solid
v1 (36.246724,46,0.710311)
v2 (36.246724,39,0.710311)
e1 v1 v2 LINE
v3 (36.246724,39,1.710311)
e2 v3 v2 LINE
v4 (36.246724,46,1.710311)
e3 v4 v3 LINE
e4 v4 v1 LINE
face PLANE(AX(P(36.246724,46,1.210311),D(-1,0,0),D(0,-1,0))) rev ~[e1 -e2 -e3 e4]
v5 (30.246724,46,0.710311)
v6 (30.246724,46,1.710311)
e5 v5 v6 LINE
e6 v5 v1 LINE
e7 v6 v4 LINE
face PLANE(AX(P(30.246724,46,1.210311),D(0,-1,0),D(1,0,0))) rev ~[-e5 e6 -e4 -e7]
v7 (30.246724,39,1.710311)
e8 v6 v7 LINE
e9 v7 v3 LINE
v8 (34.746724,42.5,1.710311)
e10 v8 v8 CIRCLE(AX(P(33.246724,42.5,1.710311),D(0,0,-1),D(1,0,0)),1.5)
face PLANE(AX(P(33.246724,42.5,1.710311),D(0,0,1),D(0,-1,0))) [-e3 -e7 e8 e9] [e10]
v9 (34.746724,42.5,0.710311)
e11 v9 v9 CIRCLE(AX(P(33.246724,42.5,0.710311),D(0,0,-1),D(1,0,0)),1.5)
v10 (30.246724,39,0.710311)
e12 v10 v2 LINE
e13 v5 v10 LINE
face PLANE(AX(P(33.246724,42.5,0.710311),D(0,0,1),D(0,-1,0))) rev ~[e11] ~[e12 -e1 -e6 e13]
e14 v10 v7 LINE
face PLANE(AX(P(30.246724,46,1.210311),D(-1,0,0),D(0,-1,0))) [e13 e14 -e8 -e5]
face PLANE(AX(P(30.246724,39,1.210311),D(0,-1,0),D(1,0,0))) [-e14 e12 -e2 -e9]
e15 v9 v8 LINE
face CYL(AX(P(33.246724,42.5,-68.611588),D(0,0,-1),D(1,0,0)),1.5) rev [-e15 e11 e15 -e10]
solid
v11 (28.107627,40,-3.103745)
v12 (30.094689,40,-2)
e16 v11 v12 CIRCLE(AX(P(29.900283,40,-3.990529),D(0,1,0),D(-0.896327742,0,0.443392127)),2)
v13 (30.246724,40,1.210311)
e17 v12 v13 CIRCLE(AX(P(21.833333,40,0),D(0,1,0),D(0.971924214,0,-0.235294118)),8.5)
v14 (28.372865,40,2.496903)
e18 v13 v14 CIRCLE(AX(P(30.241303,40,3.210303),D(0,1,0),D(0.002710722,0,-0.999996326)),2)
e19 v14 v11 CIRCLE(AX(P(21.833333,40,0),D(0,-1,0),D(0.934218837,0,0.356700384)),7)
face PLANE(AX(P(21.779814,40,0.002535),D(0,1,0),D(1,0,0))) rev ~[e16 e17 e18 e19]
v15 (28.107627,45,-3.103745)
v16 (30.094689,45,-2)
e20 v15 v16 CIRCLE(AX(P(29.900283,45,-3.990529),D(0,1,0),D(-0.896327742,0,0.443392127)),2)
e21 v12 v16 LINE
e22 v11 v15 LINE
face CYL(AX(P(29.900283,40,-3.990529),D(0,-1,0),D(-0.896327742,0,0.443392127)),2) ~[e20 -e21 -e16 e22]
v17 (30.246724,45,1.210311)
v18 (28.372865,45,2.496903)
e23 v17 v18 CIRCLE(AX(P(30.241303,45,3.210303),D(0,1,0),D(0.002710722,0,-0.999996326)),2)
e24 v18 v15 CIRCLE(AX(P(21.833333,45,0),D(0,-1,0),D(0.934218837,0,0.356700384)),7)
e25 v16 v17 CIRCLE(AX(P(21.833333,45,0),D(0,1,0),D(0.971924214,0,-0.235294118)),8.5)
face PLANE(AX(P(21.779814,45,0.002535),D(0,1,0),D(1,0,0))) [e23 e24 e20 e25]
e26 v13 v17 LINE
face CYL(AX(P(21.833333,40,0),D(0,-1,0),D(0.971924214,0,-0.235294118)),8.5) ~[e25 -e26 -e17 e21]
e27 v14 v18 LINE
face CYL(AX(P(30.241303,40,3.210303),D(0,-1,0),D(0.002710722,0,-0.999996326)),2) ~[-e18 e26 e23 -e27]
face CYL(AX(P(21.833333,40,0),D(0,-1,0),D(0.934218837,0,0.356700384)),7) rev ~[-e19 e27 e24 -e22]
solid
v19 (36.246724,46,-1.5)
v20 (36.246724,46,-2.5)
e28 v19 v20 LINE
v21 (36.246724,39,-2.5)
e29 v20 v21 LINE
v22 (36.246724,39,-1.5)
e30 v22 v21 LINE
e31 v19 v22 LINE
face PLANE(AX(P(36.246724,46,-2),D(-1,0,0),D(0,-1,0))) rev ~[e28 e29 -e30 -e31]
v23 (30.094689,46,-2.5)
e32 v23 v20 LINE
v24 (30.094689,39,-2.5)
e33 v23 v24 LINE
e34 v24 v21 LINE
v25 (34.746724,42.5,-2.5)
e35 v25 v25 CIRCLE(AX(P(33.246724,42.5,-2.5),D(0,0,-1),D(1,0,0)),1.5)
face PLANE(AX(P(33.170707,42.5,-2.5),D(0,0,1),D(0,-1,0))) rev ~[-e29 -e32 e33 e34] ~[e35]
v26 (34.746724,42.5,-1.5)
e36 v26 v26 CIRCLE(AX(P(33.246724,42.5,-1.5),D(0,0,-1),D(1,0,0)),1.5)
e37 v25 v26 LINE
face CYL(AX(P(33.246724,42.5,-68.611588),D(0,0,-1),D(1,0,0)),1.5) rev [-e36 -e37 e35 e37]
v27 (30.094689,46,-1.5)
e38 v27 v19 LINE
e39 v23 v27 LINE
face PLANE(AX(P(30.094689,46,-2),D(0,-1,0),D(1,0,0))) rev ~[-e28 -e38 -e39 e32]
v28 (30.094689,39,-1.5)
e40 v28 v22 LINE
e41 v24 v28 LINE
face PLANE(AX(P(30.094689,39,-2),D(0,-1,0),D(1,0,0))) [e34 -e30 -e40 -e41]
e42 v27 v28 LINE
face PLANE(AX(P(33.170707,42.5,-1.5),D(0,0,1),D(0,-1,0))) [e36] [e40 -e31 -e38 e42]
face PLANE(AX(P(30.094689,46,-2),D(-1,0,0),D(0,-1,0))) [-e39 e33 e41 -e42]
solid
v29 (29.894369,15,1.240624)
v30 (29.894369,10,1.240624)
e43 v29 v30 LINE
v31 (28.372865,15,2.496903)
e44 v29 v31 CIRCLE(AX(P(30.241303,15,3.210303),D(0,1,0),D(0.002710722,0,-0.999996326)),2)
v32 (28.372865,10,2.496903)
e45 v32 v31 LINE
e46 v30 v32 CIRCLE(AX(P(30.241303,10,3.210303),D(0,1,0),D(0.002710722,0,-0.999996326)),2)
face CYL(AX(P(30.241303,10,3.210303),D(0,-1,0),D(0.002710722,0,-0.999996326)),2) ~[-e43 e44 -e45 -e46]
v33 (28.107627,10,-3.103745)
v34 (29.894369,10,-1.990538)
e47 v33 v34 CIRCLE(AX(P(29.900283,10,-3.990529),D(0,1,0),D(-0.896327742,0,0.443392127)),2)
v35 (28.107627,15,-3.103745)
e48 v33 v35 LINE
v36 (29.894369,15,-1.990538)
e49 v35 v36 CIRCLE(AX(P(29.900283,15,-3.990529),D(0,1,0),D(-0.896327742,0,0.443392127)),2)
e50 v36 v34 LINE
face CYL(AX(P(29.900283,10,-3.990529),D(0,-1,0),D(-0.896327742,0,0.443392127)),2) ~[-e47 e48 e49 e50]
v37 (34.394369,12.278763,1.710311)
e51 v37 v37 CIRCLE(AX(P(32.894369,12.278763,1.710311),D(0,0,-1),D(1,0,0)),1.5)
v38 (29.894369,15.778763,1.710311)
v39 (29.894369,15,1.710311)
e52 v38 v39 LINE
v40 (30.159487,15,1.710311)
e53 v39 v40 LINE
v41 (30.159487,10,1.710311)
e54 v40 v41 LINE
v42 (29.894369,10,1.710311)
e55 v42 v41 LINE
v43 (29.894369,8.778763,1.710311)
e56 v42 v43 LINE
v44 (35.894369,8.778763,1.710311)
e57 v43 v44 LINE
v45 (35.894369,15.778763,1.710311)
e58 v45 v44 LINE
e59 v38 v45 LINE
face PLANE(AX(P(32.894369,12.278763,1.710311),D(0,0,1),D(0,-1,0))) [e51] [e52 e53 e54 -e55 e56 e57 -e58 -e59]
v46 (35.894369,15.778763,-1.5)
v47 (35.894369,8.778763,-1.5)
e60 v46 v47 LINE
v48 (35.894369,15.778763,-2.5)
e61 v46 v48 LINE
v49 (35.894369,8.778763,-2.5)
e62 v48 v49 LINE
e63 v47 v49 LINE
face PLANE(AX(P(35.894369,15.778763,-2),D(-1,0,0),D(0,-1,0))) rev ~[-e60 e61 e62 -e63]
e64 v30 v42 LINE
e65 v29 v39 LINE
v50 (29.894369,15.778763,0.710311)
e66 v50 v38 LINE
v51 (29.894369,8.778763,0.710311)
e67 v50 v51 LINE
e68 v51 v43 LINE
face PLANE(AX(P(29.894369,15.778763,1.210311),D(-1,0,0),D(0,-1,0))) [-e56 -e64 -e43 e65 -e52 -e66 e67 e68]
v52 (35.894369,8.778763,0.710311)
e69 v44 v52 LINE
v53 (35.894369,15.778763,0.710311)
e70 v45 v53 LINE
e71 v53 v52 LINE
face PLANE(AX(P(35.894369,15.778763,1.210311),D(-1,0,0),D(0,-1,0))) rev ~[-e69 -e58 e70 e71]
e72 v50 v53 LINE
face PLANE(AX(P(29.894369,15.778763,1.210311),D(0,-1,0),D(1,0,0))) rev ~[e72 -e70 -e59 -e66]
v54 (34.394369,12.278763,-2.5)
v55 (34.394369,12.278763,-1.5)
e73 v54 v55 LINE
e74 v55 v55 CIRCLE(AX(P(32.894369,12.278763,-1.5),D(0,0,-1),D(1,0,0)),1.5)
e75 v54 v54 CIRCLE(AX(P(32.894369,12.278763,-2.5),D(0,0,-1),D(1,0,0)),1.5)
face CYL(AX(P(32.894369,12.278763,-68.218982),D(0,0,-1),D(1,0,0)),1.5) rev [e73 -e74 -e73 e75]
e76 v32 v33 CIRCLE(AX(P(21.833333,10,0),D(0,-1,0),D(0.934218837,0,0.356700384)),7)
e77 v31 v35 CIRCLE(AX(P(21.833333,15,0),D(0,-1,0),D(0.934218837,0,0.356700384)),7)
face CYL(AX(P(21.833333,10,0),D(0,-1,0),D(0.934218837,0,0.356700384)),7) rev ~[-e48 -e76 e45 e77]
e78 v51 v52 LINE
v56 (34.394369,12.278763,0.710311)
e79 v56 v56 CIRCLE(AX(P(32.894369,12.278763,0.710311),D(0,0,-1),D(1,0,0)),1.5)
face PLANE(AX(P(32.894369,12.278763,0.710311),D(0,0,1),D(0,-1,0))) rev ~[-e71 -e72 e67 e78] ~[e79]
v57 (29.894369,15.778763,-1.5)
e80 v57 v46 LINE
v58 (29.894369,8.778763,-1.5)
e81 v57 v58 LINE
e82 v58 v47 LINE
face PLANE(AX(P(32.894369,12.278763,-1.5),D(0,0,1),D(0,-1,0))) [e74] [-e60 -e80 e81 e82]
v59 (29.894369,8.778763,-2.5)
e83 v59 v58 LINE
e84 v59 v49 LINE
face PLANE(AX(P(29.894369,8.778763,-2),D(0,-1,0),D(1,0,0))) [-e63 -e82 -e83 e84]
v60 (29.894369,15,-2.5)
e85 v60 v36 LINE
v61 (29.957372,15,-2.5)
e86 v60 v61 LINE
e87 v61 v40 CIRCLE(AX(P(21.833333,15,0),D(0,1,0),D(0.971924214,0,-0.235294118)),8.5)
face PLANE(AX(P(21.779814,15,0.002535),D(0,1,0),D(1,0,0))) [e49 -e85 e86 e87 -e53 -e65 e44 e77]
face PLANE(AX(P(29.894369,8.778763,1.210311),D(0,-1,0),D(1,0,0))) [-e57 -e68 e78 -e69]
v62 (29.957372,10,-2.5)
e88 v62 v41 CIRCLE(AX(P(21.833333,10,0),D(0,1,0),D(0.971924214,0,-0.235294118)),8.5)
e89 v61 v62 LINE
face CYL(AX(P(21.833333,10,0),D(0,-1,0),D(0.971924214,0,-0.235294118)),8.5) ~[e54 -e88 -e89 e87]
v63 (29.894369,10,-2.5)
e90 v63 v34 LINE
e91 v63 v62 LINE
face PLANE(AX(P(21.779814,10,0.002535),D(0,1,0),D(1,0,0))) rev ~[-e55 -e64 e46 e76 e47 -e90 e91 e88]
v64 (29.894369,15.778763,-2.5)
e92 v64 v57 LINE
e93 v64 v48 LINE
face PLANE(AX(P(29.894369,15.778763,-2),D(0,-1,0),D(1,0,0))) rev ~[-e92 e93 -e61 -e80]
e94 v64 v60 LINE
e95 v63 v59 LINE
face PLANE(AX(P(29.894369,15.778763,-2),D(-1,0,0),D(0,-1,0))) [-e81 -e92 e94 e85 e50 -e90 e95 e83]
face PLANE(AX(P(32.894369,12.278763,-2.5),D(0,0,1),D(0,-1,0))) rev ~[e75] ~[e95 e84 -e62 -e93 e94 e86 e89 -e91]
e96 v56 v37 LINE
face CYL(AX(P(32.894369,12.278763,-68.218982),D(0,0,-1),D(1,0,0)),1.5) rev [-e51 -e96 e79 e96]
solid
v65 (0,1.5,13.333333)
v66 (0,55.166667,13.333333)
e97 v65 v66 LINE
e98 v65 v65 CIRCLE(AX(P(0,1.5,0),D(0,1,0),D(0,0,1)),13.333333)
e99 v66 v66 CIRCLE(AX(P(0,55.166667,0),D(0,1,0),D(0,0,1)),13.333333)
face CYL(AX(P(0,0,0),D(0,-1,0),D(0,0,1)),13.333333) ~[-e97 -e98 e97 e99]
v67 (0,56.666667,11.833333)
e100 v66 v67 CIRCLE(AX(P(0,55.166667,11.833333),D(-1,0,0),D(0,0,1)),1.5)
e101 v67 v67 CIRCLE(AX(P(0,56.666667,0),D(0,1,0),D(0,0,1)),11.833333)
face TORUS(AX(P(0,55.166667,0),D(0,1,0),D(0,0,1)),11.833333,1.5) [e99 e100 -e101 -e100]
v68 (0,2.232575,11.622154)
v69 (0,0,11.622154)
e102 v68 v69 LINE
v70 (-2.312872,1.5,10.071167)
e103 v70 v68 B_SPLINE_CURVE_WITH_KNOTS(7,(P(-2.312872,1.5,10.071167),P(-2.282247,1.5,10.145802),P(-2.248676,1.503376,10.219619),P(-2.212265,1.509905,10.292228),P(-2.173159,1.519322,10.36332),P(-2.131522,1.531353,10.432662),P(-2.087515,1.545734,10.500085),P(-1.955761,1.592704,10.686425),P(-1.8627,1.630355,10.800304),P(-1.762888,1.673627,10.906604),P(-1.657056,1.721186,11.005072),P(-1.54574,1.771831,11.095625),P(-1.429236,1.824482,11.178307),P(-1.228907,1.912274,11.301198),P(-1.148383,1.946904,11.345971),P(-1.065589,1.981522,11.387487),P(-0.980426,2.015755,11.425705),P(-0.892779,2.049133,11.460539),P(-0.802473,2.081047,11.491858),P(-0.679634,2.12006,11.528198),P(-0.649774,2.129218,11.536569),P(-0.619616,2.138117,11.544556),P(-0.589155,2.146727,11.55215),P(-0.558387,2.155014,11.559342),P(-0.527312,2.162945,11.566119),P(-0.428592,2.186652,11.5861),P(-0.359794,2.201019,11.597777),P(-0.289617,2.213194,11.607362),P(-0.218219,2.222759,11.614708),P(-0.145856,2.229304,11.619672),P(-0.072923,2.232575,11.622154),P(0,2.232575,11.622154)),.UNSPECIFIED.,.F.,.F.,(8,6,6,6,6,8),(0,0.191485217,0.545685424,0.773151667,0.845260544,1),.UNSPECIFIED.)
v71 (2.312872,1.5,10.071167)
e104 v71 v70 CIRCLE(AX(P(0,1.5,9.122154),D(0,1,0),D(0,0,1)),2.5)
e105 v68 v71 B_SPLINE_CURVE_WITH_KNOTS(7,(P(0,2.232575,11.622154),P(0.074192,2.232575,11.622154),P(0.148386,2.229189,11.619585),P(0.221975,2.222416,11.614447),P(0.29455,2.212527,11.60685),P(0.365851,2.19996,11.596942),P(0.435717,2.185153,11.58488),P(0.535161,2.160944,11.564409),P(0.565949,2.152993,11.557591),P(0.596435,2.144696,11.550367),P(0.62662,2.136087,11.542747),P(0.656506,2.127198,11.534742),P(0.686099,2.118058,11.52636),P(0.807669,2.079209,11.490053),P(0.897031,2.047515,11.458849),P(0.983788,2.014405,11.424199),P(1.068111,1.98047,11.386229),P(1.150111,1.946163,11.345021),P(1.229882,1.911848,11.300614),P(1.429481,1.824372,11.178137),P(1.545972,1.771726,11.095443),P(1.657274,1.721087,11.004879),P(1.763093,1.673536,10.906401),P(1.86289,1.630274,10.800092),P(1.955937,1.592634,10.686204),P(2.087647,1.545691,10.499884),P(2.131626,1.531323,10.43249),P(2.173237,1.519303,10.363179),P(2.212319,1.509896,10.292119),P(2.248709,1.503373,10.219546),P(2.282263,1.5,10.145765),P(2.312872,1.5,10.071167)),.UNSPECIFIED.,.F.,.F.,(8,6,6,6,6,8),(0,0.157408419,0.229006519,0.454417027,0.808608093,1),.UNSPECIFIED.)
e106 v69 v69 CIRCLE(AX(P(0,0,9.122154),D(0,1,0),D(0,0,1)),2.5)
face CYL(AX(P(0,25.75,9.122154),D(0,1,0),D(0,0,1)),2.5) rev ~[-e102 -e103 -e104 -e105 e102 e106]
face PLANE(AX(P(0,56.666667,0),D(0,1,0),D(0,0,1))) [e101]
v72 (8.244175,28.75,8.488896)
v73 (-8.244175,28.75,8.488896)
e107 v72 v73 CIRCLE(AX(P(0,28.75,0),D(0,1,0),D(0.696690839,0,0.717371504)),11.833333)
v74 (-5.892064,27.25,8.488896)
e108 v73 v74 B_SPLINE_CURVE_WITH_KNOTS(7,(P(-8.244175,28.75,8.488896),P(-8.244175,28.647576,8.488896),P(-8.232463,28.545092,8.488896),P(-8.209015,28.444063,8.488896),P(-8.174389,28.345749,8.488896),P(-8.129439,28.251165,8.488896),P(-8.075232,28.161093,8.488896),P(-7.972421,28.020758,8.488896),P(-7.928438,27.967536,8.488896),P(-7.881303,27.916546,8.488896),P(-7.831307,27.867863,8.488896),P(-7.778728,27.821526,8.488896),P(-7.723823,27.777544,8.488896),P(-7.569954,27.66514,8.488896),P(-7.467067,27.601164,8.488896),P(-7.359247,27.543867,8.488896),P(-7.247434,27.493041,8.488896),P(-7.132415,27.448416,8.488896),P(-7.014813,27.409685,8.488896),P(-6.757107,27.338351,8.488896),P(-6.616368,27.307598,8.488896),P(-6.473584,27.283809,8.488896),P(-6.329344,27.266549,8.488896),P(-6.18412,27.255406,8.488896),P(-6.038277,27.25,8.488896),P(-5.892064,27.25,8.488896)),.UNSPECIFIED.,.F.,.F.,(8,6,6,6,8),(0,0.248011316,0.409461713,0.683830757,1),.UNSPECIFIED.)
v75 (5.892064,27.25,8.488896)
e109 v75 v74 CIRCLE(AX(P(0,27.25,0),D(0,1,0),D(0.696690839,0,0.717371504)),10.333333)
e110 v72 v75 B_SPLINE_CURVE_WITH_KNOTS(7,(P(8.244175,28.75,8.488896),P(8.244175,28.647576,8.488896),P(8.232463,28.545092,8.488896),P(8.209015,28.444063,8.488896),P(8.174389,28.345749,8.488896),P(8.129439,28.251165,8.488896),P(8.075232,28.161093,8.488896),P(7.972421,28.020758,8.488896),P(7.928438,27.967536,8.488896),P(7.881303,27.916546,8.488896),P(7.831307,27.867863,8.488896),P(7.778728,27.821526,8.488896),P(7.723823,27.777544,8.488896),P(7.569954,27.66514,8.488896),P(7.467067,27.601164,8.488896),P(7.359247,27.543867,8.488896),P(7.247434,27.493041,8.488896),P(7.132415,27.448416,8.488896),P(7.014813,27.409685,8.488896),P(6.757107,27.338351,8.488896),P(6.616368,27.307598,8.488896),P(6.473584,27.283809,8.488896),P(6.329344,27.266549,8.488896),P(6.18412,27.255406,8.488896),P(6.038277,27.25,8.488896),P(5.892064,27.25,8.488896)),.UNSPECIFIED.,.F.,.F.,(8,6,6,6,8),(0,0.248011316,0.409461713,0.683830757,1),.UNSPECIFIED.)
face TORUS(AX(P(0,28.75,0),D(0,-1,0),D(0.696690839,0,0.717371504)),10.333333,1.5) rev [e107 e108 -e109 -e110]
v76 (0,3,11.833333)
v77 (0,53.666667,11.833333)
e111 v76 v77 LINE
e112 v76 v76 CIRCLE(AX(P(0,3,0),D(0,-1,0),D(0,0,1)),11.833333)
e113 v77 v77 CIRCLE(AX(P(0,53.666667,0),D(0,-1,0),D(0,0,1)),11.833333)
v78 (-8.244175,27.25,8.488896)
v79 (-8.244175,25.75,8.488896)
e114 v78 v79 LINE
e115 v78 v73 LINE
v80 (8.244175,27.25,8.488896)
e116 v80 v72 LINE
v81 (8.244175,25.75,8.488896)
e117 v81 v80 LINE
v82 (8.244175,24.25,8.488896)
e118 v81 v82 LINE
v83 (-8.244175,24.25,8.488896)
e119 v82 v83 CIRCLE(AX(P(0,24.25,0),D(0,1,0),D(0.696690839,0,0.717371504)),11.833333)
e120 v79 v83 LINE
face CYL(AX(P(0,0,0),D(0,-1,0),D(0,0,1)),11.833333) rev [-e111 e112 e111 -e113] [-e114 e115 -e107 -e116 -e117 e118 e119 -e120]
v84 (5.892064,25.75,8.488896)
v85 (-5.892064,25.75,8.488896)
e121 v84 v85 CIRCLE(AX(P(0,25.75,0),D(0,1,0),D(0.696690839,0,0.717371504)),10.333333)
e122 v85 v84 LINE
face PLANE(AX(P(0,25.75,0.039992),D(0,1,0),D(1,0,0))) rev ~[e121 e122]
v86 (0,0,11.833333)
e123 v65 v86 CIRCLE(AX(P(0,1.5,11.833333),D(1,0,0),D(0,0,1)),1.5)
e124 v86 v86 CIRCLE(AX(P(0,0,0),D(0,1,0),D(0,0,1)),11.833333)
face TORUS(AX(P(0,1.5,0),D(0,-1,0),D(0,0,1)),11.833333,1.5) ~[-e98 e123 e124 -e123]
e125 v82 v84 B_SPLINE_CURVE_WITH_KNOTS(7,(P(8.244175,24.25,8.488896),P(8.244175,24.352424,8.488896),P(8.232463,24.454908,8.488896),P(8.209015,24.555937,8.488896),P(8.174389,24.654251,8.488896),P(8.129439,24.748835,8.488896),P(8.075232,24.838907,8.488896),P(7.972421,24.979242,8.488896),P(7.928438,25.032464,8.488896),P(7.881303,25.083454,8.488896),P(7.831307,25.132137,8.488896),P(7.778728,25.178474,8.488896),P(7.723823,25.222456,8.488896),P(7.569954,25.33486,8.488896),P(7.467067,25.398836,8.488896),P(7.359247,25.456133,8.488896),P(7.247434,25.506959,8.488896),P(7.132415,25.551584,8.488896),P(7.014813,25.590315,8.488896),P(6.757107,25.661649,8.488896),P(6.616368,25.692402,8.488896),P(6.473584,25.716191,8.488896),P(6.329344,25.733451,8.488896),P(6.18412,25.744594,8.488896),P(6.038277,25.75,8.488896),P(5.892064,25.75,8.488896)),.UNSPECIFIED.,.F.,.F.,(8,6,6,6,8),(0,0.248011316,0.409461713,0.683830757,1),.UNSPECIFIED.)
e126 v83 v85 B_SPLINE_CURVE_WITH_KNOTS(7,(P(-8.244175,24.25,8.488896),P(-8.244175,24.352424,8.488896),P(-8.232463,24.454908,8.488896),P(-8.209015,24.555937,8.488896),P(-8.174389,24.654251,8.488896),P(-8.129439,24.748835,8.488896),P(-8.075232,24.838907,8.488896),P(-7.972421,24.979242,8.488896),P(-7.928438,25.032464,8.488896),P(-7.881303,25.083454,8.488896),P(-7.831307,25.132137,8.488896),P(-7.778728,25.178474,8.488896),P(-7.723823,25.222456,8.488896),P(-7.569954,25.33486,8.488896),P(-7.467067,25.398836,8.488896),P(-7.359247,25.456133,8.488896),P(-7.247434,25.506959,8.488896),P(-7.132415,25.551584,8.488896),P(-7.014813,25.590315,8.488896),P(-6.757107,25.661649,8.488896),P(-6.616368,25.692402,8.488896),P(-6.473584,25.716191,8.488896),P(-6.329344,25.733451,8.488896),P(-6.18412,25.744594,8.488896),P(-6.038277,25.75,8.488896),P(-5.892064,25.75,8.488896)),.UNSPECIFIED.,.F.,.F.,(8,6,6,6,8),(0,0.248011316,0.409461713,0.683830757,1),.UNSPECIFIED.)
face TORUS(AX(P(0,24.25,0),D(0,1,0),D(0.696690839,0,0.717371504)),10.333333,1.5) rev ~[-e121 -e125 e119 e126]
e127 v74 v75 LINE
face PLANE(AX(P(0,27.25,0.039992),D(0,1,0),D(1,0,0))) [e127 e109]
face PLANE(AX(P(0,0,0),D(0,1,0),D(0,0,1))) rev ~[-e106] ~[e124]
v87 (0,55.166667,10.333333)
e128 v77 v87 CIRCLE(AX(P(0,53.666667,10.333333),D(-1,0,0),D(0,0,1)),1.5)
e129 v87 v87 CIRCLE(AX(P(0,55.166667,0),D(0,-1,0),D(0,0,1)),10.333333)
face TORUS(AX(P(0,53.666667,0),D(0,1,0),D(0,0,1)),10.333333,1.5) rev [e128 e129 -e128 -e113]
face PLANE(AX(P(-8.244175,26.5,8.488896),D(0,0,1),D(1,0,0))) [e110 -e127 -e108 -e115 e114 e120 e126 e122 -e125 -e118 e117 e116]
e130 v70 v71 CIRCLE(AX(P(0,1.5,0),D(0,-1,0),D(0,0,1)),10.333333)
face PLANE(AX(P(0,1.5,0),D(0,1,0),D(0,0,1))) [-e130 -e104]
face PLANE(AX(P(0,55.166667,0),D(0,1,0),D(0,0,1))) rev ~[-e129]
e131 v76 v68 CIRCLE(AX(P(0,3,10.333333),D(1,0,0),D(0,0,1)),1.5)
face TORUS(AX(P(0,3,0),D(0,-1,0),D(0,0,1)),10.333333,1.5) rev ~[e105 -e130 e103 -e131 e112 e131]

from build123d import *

# Parameters (mm, degrees)
SKETCH1_R               = 13.33333325
BOSS_EXTRUDE1_DEPTH     = 56.666666667
SHELL1_T                = 1.5
BOSS_EXTRUDE2_START     = 25
BOSS_EXTRUDE2_DEPTH     = 0.75
FILLET1_R               = 1.5
BOSS_EXTRUDE3_START     = 40
BOSS_EXTRUDE3_DEPTH     = 5
BOSS_EXTRUDE4_START     = 10
BOSS_EXTRUDE4_DEPTH     = 5
SKETCH6_W               = 7
SKETCH6_H               = 6
BOSS_EXTRUDE5_DEPTH     = 0.5
SKETCH7_W               = 7
SKETCH7_H               = 6.152035158
BOSS_EXTRUDE6_DEPTH     = 0.5
CUT_EXTRUDE1_DEPTH      = 69.821898483
CUT_EXTRUDE1_DEPTH_BACK = 69.821898483
SKETCH10_R              = 1.5
CUT_EXTRUDE3_START      = 24.25
SKETCH14_R              = 2.5
CUT_EXTRUDE3_DEPTH      = 92.592140625
SKETCH17_W              = 7
SKETCH17_H              = 6
BOSS_EXTRUDE7_DEPTH     = 0.5
SKETCH18_W              = 7
SKETCH18_H              = 6
BOSS_EXTRUDE8_DEPTH     = 0.5
CUT_EXTRUDE4_DEPTH      = 69.92929243
CUT_EXTRUDE4_DEPTH_BACK = 69.92929243
SKETCH19_R              = 1.5


with BuildPart() as part:
    # Sketch1 → Boss-Extrude1 (new body)
    with BuildSketch(Plane(origin=(0, 0, 0), x_dir=(1, 0, 0), z_dir=(0, 1, 0))):
        with Locations(Location((0, 0, 0), (0, 0, 270))):
            Circle(SKETCH1_R)
    extrude(amount=BOSS_EXTRUDE1_DEPTH)

    # Shell1 (no face opened: a closed hollow body)
    add(offset(amount=-SHELL1_T, mode=Mode.PRIVATE), mode=Mode.SUBTRACT)

    # Sketch4 → Boss-Extrude2 (add, symmetric)
    with BuildSketch(Plane(origin=(0, 1.5, 0), x_dir=(1, 0, 0), z_dir=(0, 1, 0)).offset(BOSS_EXTRUDE2_START)):
        with BuildLine():
            Line((-8.24417487, -8.488896072), (8.24417487, -8.488896072))
            ThreePointArc((8.24417487, -8.488896072), (0, 11.83333325), (-8.24417487, -8.488896072))
        make_face()
    extrude(amount=BOSS_EXTRUDE2_DEPTH, both=True)

    # Fillet1
    fillet1_edges = [part.edges().sort_by_distance(p)[0] for p in [
        (0, 25.75, -11.83333325),
        (0, 27.25, -11.83333325),
        (0, 0, -13.33333325),
        (0, 56.666666667, -13.33333325),
        (0, 1.5, -11.83333325),
        (0, 55.166666667, -11.83333325),
    ]]
    fillet(fillet1_edges, radius=FILLET1_R)

    # Sketch14 → Cut-Extrude3 (cut, through all)
    with BuildSketch(Plane(origin=(0, 1.5, 0), x_dir=(1, 0, 0), z_dir=(0, 1, 0)).offset(CUT_EXTRUDE3_START)):
        with Locations(Location((0, -9.122154062, 0), (0, 0, 270))):
            Circle(SKETCH14_R)
    extrude(amount=-CUT_EXTRUDE3_DEPTH, mode=Mode.SUBTRACT)


with BuildPart() as body_2:
    # Sketch5 → Boss-Extrude3 (new body)
    with BuildSketch(Plane(origin=(0, 0, 0), x_dir=(1, 0, 0), z_dir=(0, 1, 0)).offset(BOSS_EXTRUDE3_START)):
        with BuildLine():
            ThreePointArc((30.094689071, 2), (13.34284922, -0.402095671), (30.246724229, -1.210310804))
            ThreePointArc((30.246724229, -1.210310804), (29.109252858, -1.561527255), (28.372865111, -2.496902688))
            ThreePointArc((28.372865111, -2.496902688), (14.841169931, -0.331137612), (28.107627448, 3.103744886))
            ThreePointArc((28.107627448, 3.103744886), (28.929116914, 2.242148013), (30.094689071, 2))
        make_face()
    extrude(amount=BOSS_EXTRUDE3_DEPTH)


with BuildPart() as body_3:
    # Sketch5<3> → Boss-Extrude4 (new body)
    with BuildSketch(Plane(origin=(0, 0, 0), x_dir=(1, 0, 0), z_dir=(0, 1, 0)).offset(BOSS_EXTRUDE4_START)):
        with BuildLine():
            ThreePointArc((30.094689071, 2), (13.34284922, -0.402095671), (30.246724229, -1.210310804))
            ThreePointArc((30.246724229, -1.210310804), (29.109252858, -1.561527255), (28.372865111, -2.496902688))
            ThreePointArc((28.372865111, -2.496902688), (14.841169931, -0.331137612), (28.107627448, 3.103744886))
            ThreePointArc((28.107627448, 3.103744886), (28.929116914, 2.242148013), (30.094689071, 2))
        make_face()
    extrude(amount=BOSS_EXTRUDE4_DEPTH)

    # Sketch17 → Boss-Extrude7 (add, symmetric)
    with BuildSketch(Plane(origin=(0, 0, 1.210310804), x_dir=(0, -1, 0), z_dir=(0, 0, 1))):
        with Locations((-12.27876271, 32.89436936)):
            Rectangle(SKETCH17_W, SKETCH17_H)
    extrude(amount=BOSS_EXTRUDE7_DEPTH, both=True)

    # Sketch18 → Boss-Extrude8 (add, symmetric)
    with BuildSketch(Plane(origin=(0, 0, -2), x_dir=(0, -1, 0), z_dir=(0, 0, 1))):
        with Locations((-12.27876271, 32.89436936)):
            Rectangle(SKETCH18_W, SKETCH18_H)
    extrude(amount=BOSS_EXTRUDE8_DEPTH, both=True)

    # Sketch19 → Cut-Extrude4 (cut, two sides: drawn at the far end of the back side and taken through both)
    with BuildSketch(Plane.XY.offset(1.710310804).offset(-CUT_EXTRUDE4_DEPTH_BACK)):
        with Locations((32.89436936, 12.27876271)):
            Circle(SKETCH19_R)
    extrude(amount=CUT_EXTRUDE4_DEPTH + CUT_EXTRUDE4_DEPTH_BACK, mode=Mode.SUBTRACT)


with BuildPart() as body_4:
    # Sketch6 → Boss-Extrude5 (new, symmetric)
    with BuildSketch(Plane(origin=(0, 0, 1.210310804), x_dir=(0, -1, 0), z_dir=(0, 0, 1))):
        with Locations((-42.5, 33.246724229)):
            Rectangle(SKETCH6_W, SKETCH6_H)
    extrude(amount=BOSS_EXTRUDE5_DEPTH, both=True)


with BuildPart() as body_5:
    # Sketch7 → Boss-Extrude6 (new, symmetric)
    with BuildSketch(Plane(origin=(0, 0, -2), x_dir=(0, -1, 0), z_dir=(0, 0, 1))):
        with Locations((-42.5, 33.17070665)):
            Rectangle(SKETCH7_W, SKETCH7_H)
    extrude(amount=BOSS_EXTRUDE6_DEPTH, both=True)


with BuildPart() as cut_extrude1_tool:
    # Sketch10 → Cut-Extrude1 (new, two sides: drawn at the far end of the back side and taken through both)
    with BuildSketch(Plane(origin=(0, 0, 1.210310804), x_dir=(0, -1, 0), z_dir=(0, 0, 1)).offset(-CUT_EXTRUDE1_DEPTH_BACK)):
        with Locations(Location((-42.5, 33.246724229, 0), (0, 0, 90))):
            Circle(SKETCH10_R)
    extrude(amount=CUT_EXTRUDE1_DEPTH + CUT_EXTRUDE1_DEPTH_BACK)


with BuildPart() as body_4_1:
    add(body_4.part)

    # Cut-Extrude1: cut by cut_extrude1_tool
    add(cut_extrude1_tool.part, mode=Mode.SUBTRACT)


with BuildPart() as body_5_1:
    add(body_5.part)

    # Cut-Extrude1: cut by cut_extrude1_tool
    add(cut_extrude1_tool.part, mode=Mode.SUBTRACT)


solid = Compound([part.part, body_2.part, body_3.part, body_4_1.part, body_5_1.part])
